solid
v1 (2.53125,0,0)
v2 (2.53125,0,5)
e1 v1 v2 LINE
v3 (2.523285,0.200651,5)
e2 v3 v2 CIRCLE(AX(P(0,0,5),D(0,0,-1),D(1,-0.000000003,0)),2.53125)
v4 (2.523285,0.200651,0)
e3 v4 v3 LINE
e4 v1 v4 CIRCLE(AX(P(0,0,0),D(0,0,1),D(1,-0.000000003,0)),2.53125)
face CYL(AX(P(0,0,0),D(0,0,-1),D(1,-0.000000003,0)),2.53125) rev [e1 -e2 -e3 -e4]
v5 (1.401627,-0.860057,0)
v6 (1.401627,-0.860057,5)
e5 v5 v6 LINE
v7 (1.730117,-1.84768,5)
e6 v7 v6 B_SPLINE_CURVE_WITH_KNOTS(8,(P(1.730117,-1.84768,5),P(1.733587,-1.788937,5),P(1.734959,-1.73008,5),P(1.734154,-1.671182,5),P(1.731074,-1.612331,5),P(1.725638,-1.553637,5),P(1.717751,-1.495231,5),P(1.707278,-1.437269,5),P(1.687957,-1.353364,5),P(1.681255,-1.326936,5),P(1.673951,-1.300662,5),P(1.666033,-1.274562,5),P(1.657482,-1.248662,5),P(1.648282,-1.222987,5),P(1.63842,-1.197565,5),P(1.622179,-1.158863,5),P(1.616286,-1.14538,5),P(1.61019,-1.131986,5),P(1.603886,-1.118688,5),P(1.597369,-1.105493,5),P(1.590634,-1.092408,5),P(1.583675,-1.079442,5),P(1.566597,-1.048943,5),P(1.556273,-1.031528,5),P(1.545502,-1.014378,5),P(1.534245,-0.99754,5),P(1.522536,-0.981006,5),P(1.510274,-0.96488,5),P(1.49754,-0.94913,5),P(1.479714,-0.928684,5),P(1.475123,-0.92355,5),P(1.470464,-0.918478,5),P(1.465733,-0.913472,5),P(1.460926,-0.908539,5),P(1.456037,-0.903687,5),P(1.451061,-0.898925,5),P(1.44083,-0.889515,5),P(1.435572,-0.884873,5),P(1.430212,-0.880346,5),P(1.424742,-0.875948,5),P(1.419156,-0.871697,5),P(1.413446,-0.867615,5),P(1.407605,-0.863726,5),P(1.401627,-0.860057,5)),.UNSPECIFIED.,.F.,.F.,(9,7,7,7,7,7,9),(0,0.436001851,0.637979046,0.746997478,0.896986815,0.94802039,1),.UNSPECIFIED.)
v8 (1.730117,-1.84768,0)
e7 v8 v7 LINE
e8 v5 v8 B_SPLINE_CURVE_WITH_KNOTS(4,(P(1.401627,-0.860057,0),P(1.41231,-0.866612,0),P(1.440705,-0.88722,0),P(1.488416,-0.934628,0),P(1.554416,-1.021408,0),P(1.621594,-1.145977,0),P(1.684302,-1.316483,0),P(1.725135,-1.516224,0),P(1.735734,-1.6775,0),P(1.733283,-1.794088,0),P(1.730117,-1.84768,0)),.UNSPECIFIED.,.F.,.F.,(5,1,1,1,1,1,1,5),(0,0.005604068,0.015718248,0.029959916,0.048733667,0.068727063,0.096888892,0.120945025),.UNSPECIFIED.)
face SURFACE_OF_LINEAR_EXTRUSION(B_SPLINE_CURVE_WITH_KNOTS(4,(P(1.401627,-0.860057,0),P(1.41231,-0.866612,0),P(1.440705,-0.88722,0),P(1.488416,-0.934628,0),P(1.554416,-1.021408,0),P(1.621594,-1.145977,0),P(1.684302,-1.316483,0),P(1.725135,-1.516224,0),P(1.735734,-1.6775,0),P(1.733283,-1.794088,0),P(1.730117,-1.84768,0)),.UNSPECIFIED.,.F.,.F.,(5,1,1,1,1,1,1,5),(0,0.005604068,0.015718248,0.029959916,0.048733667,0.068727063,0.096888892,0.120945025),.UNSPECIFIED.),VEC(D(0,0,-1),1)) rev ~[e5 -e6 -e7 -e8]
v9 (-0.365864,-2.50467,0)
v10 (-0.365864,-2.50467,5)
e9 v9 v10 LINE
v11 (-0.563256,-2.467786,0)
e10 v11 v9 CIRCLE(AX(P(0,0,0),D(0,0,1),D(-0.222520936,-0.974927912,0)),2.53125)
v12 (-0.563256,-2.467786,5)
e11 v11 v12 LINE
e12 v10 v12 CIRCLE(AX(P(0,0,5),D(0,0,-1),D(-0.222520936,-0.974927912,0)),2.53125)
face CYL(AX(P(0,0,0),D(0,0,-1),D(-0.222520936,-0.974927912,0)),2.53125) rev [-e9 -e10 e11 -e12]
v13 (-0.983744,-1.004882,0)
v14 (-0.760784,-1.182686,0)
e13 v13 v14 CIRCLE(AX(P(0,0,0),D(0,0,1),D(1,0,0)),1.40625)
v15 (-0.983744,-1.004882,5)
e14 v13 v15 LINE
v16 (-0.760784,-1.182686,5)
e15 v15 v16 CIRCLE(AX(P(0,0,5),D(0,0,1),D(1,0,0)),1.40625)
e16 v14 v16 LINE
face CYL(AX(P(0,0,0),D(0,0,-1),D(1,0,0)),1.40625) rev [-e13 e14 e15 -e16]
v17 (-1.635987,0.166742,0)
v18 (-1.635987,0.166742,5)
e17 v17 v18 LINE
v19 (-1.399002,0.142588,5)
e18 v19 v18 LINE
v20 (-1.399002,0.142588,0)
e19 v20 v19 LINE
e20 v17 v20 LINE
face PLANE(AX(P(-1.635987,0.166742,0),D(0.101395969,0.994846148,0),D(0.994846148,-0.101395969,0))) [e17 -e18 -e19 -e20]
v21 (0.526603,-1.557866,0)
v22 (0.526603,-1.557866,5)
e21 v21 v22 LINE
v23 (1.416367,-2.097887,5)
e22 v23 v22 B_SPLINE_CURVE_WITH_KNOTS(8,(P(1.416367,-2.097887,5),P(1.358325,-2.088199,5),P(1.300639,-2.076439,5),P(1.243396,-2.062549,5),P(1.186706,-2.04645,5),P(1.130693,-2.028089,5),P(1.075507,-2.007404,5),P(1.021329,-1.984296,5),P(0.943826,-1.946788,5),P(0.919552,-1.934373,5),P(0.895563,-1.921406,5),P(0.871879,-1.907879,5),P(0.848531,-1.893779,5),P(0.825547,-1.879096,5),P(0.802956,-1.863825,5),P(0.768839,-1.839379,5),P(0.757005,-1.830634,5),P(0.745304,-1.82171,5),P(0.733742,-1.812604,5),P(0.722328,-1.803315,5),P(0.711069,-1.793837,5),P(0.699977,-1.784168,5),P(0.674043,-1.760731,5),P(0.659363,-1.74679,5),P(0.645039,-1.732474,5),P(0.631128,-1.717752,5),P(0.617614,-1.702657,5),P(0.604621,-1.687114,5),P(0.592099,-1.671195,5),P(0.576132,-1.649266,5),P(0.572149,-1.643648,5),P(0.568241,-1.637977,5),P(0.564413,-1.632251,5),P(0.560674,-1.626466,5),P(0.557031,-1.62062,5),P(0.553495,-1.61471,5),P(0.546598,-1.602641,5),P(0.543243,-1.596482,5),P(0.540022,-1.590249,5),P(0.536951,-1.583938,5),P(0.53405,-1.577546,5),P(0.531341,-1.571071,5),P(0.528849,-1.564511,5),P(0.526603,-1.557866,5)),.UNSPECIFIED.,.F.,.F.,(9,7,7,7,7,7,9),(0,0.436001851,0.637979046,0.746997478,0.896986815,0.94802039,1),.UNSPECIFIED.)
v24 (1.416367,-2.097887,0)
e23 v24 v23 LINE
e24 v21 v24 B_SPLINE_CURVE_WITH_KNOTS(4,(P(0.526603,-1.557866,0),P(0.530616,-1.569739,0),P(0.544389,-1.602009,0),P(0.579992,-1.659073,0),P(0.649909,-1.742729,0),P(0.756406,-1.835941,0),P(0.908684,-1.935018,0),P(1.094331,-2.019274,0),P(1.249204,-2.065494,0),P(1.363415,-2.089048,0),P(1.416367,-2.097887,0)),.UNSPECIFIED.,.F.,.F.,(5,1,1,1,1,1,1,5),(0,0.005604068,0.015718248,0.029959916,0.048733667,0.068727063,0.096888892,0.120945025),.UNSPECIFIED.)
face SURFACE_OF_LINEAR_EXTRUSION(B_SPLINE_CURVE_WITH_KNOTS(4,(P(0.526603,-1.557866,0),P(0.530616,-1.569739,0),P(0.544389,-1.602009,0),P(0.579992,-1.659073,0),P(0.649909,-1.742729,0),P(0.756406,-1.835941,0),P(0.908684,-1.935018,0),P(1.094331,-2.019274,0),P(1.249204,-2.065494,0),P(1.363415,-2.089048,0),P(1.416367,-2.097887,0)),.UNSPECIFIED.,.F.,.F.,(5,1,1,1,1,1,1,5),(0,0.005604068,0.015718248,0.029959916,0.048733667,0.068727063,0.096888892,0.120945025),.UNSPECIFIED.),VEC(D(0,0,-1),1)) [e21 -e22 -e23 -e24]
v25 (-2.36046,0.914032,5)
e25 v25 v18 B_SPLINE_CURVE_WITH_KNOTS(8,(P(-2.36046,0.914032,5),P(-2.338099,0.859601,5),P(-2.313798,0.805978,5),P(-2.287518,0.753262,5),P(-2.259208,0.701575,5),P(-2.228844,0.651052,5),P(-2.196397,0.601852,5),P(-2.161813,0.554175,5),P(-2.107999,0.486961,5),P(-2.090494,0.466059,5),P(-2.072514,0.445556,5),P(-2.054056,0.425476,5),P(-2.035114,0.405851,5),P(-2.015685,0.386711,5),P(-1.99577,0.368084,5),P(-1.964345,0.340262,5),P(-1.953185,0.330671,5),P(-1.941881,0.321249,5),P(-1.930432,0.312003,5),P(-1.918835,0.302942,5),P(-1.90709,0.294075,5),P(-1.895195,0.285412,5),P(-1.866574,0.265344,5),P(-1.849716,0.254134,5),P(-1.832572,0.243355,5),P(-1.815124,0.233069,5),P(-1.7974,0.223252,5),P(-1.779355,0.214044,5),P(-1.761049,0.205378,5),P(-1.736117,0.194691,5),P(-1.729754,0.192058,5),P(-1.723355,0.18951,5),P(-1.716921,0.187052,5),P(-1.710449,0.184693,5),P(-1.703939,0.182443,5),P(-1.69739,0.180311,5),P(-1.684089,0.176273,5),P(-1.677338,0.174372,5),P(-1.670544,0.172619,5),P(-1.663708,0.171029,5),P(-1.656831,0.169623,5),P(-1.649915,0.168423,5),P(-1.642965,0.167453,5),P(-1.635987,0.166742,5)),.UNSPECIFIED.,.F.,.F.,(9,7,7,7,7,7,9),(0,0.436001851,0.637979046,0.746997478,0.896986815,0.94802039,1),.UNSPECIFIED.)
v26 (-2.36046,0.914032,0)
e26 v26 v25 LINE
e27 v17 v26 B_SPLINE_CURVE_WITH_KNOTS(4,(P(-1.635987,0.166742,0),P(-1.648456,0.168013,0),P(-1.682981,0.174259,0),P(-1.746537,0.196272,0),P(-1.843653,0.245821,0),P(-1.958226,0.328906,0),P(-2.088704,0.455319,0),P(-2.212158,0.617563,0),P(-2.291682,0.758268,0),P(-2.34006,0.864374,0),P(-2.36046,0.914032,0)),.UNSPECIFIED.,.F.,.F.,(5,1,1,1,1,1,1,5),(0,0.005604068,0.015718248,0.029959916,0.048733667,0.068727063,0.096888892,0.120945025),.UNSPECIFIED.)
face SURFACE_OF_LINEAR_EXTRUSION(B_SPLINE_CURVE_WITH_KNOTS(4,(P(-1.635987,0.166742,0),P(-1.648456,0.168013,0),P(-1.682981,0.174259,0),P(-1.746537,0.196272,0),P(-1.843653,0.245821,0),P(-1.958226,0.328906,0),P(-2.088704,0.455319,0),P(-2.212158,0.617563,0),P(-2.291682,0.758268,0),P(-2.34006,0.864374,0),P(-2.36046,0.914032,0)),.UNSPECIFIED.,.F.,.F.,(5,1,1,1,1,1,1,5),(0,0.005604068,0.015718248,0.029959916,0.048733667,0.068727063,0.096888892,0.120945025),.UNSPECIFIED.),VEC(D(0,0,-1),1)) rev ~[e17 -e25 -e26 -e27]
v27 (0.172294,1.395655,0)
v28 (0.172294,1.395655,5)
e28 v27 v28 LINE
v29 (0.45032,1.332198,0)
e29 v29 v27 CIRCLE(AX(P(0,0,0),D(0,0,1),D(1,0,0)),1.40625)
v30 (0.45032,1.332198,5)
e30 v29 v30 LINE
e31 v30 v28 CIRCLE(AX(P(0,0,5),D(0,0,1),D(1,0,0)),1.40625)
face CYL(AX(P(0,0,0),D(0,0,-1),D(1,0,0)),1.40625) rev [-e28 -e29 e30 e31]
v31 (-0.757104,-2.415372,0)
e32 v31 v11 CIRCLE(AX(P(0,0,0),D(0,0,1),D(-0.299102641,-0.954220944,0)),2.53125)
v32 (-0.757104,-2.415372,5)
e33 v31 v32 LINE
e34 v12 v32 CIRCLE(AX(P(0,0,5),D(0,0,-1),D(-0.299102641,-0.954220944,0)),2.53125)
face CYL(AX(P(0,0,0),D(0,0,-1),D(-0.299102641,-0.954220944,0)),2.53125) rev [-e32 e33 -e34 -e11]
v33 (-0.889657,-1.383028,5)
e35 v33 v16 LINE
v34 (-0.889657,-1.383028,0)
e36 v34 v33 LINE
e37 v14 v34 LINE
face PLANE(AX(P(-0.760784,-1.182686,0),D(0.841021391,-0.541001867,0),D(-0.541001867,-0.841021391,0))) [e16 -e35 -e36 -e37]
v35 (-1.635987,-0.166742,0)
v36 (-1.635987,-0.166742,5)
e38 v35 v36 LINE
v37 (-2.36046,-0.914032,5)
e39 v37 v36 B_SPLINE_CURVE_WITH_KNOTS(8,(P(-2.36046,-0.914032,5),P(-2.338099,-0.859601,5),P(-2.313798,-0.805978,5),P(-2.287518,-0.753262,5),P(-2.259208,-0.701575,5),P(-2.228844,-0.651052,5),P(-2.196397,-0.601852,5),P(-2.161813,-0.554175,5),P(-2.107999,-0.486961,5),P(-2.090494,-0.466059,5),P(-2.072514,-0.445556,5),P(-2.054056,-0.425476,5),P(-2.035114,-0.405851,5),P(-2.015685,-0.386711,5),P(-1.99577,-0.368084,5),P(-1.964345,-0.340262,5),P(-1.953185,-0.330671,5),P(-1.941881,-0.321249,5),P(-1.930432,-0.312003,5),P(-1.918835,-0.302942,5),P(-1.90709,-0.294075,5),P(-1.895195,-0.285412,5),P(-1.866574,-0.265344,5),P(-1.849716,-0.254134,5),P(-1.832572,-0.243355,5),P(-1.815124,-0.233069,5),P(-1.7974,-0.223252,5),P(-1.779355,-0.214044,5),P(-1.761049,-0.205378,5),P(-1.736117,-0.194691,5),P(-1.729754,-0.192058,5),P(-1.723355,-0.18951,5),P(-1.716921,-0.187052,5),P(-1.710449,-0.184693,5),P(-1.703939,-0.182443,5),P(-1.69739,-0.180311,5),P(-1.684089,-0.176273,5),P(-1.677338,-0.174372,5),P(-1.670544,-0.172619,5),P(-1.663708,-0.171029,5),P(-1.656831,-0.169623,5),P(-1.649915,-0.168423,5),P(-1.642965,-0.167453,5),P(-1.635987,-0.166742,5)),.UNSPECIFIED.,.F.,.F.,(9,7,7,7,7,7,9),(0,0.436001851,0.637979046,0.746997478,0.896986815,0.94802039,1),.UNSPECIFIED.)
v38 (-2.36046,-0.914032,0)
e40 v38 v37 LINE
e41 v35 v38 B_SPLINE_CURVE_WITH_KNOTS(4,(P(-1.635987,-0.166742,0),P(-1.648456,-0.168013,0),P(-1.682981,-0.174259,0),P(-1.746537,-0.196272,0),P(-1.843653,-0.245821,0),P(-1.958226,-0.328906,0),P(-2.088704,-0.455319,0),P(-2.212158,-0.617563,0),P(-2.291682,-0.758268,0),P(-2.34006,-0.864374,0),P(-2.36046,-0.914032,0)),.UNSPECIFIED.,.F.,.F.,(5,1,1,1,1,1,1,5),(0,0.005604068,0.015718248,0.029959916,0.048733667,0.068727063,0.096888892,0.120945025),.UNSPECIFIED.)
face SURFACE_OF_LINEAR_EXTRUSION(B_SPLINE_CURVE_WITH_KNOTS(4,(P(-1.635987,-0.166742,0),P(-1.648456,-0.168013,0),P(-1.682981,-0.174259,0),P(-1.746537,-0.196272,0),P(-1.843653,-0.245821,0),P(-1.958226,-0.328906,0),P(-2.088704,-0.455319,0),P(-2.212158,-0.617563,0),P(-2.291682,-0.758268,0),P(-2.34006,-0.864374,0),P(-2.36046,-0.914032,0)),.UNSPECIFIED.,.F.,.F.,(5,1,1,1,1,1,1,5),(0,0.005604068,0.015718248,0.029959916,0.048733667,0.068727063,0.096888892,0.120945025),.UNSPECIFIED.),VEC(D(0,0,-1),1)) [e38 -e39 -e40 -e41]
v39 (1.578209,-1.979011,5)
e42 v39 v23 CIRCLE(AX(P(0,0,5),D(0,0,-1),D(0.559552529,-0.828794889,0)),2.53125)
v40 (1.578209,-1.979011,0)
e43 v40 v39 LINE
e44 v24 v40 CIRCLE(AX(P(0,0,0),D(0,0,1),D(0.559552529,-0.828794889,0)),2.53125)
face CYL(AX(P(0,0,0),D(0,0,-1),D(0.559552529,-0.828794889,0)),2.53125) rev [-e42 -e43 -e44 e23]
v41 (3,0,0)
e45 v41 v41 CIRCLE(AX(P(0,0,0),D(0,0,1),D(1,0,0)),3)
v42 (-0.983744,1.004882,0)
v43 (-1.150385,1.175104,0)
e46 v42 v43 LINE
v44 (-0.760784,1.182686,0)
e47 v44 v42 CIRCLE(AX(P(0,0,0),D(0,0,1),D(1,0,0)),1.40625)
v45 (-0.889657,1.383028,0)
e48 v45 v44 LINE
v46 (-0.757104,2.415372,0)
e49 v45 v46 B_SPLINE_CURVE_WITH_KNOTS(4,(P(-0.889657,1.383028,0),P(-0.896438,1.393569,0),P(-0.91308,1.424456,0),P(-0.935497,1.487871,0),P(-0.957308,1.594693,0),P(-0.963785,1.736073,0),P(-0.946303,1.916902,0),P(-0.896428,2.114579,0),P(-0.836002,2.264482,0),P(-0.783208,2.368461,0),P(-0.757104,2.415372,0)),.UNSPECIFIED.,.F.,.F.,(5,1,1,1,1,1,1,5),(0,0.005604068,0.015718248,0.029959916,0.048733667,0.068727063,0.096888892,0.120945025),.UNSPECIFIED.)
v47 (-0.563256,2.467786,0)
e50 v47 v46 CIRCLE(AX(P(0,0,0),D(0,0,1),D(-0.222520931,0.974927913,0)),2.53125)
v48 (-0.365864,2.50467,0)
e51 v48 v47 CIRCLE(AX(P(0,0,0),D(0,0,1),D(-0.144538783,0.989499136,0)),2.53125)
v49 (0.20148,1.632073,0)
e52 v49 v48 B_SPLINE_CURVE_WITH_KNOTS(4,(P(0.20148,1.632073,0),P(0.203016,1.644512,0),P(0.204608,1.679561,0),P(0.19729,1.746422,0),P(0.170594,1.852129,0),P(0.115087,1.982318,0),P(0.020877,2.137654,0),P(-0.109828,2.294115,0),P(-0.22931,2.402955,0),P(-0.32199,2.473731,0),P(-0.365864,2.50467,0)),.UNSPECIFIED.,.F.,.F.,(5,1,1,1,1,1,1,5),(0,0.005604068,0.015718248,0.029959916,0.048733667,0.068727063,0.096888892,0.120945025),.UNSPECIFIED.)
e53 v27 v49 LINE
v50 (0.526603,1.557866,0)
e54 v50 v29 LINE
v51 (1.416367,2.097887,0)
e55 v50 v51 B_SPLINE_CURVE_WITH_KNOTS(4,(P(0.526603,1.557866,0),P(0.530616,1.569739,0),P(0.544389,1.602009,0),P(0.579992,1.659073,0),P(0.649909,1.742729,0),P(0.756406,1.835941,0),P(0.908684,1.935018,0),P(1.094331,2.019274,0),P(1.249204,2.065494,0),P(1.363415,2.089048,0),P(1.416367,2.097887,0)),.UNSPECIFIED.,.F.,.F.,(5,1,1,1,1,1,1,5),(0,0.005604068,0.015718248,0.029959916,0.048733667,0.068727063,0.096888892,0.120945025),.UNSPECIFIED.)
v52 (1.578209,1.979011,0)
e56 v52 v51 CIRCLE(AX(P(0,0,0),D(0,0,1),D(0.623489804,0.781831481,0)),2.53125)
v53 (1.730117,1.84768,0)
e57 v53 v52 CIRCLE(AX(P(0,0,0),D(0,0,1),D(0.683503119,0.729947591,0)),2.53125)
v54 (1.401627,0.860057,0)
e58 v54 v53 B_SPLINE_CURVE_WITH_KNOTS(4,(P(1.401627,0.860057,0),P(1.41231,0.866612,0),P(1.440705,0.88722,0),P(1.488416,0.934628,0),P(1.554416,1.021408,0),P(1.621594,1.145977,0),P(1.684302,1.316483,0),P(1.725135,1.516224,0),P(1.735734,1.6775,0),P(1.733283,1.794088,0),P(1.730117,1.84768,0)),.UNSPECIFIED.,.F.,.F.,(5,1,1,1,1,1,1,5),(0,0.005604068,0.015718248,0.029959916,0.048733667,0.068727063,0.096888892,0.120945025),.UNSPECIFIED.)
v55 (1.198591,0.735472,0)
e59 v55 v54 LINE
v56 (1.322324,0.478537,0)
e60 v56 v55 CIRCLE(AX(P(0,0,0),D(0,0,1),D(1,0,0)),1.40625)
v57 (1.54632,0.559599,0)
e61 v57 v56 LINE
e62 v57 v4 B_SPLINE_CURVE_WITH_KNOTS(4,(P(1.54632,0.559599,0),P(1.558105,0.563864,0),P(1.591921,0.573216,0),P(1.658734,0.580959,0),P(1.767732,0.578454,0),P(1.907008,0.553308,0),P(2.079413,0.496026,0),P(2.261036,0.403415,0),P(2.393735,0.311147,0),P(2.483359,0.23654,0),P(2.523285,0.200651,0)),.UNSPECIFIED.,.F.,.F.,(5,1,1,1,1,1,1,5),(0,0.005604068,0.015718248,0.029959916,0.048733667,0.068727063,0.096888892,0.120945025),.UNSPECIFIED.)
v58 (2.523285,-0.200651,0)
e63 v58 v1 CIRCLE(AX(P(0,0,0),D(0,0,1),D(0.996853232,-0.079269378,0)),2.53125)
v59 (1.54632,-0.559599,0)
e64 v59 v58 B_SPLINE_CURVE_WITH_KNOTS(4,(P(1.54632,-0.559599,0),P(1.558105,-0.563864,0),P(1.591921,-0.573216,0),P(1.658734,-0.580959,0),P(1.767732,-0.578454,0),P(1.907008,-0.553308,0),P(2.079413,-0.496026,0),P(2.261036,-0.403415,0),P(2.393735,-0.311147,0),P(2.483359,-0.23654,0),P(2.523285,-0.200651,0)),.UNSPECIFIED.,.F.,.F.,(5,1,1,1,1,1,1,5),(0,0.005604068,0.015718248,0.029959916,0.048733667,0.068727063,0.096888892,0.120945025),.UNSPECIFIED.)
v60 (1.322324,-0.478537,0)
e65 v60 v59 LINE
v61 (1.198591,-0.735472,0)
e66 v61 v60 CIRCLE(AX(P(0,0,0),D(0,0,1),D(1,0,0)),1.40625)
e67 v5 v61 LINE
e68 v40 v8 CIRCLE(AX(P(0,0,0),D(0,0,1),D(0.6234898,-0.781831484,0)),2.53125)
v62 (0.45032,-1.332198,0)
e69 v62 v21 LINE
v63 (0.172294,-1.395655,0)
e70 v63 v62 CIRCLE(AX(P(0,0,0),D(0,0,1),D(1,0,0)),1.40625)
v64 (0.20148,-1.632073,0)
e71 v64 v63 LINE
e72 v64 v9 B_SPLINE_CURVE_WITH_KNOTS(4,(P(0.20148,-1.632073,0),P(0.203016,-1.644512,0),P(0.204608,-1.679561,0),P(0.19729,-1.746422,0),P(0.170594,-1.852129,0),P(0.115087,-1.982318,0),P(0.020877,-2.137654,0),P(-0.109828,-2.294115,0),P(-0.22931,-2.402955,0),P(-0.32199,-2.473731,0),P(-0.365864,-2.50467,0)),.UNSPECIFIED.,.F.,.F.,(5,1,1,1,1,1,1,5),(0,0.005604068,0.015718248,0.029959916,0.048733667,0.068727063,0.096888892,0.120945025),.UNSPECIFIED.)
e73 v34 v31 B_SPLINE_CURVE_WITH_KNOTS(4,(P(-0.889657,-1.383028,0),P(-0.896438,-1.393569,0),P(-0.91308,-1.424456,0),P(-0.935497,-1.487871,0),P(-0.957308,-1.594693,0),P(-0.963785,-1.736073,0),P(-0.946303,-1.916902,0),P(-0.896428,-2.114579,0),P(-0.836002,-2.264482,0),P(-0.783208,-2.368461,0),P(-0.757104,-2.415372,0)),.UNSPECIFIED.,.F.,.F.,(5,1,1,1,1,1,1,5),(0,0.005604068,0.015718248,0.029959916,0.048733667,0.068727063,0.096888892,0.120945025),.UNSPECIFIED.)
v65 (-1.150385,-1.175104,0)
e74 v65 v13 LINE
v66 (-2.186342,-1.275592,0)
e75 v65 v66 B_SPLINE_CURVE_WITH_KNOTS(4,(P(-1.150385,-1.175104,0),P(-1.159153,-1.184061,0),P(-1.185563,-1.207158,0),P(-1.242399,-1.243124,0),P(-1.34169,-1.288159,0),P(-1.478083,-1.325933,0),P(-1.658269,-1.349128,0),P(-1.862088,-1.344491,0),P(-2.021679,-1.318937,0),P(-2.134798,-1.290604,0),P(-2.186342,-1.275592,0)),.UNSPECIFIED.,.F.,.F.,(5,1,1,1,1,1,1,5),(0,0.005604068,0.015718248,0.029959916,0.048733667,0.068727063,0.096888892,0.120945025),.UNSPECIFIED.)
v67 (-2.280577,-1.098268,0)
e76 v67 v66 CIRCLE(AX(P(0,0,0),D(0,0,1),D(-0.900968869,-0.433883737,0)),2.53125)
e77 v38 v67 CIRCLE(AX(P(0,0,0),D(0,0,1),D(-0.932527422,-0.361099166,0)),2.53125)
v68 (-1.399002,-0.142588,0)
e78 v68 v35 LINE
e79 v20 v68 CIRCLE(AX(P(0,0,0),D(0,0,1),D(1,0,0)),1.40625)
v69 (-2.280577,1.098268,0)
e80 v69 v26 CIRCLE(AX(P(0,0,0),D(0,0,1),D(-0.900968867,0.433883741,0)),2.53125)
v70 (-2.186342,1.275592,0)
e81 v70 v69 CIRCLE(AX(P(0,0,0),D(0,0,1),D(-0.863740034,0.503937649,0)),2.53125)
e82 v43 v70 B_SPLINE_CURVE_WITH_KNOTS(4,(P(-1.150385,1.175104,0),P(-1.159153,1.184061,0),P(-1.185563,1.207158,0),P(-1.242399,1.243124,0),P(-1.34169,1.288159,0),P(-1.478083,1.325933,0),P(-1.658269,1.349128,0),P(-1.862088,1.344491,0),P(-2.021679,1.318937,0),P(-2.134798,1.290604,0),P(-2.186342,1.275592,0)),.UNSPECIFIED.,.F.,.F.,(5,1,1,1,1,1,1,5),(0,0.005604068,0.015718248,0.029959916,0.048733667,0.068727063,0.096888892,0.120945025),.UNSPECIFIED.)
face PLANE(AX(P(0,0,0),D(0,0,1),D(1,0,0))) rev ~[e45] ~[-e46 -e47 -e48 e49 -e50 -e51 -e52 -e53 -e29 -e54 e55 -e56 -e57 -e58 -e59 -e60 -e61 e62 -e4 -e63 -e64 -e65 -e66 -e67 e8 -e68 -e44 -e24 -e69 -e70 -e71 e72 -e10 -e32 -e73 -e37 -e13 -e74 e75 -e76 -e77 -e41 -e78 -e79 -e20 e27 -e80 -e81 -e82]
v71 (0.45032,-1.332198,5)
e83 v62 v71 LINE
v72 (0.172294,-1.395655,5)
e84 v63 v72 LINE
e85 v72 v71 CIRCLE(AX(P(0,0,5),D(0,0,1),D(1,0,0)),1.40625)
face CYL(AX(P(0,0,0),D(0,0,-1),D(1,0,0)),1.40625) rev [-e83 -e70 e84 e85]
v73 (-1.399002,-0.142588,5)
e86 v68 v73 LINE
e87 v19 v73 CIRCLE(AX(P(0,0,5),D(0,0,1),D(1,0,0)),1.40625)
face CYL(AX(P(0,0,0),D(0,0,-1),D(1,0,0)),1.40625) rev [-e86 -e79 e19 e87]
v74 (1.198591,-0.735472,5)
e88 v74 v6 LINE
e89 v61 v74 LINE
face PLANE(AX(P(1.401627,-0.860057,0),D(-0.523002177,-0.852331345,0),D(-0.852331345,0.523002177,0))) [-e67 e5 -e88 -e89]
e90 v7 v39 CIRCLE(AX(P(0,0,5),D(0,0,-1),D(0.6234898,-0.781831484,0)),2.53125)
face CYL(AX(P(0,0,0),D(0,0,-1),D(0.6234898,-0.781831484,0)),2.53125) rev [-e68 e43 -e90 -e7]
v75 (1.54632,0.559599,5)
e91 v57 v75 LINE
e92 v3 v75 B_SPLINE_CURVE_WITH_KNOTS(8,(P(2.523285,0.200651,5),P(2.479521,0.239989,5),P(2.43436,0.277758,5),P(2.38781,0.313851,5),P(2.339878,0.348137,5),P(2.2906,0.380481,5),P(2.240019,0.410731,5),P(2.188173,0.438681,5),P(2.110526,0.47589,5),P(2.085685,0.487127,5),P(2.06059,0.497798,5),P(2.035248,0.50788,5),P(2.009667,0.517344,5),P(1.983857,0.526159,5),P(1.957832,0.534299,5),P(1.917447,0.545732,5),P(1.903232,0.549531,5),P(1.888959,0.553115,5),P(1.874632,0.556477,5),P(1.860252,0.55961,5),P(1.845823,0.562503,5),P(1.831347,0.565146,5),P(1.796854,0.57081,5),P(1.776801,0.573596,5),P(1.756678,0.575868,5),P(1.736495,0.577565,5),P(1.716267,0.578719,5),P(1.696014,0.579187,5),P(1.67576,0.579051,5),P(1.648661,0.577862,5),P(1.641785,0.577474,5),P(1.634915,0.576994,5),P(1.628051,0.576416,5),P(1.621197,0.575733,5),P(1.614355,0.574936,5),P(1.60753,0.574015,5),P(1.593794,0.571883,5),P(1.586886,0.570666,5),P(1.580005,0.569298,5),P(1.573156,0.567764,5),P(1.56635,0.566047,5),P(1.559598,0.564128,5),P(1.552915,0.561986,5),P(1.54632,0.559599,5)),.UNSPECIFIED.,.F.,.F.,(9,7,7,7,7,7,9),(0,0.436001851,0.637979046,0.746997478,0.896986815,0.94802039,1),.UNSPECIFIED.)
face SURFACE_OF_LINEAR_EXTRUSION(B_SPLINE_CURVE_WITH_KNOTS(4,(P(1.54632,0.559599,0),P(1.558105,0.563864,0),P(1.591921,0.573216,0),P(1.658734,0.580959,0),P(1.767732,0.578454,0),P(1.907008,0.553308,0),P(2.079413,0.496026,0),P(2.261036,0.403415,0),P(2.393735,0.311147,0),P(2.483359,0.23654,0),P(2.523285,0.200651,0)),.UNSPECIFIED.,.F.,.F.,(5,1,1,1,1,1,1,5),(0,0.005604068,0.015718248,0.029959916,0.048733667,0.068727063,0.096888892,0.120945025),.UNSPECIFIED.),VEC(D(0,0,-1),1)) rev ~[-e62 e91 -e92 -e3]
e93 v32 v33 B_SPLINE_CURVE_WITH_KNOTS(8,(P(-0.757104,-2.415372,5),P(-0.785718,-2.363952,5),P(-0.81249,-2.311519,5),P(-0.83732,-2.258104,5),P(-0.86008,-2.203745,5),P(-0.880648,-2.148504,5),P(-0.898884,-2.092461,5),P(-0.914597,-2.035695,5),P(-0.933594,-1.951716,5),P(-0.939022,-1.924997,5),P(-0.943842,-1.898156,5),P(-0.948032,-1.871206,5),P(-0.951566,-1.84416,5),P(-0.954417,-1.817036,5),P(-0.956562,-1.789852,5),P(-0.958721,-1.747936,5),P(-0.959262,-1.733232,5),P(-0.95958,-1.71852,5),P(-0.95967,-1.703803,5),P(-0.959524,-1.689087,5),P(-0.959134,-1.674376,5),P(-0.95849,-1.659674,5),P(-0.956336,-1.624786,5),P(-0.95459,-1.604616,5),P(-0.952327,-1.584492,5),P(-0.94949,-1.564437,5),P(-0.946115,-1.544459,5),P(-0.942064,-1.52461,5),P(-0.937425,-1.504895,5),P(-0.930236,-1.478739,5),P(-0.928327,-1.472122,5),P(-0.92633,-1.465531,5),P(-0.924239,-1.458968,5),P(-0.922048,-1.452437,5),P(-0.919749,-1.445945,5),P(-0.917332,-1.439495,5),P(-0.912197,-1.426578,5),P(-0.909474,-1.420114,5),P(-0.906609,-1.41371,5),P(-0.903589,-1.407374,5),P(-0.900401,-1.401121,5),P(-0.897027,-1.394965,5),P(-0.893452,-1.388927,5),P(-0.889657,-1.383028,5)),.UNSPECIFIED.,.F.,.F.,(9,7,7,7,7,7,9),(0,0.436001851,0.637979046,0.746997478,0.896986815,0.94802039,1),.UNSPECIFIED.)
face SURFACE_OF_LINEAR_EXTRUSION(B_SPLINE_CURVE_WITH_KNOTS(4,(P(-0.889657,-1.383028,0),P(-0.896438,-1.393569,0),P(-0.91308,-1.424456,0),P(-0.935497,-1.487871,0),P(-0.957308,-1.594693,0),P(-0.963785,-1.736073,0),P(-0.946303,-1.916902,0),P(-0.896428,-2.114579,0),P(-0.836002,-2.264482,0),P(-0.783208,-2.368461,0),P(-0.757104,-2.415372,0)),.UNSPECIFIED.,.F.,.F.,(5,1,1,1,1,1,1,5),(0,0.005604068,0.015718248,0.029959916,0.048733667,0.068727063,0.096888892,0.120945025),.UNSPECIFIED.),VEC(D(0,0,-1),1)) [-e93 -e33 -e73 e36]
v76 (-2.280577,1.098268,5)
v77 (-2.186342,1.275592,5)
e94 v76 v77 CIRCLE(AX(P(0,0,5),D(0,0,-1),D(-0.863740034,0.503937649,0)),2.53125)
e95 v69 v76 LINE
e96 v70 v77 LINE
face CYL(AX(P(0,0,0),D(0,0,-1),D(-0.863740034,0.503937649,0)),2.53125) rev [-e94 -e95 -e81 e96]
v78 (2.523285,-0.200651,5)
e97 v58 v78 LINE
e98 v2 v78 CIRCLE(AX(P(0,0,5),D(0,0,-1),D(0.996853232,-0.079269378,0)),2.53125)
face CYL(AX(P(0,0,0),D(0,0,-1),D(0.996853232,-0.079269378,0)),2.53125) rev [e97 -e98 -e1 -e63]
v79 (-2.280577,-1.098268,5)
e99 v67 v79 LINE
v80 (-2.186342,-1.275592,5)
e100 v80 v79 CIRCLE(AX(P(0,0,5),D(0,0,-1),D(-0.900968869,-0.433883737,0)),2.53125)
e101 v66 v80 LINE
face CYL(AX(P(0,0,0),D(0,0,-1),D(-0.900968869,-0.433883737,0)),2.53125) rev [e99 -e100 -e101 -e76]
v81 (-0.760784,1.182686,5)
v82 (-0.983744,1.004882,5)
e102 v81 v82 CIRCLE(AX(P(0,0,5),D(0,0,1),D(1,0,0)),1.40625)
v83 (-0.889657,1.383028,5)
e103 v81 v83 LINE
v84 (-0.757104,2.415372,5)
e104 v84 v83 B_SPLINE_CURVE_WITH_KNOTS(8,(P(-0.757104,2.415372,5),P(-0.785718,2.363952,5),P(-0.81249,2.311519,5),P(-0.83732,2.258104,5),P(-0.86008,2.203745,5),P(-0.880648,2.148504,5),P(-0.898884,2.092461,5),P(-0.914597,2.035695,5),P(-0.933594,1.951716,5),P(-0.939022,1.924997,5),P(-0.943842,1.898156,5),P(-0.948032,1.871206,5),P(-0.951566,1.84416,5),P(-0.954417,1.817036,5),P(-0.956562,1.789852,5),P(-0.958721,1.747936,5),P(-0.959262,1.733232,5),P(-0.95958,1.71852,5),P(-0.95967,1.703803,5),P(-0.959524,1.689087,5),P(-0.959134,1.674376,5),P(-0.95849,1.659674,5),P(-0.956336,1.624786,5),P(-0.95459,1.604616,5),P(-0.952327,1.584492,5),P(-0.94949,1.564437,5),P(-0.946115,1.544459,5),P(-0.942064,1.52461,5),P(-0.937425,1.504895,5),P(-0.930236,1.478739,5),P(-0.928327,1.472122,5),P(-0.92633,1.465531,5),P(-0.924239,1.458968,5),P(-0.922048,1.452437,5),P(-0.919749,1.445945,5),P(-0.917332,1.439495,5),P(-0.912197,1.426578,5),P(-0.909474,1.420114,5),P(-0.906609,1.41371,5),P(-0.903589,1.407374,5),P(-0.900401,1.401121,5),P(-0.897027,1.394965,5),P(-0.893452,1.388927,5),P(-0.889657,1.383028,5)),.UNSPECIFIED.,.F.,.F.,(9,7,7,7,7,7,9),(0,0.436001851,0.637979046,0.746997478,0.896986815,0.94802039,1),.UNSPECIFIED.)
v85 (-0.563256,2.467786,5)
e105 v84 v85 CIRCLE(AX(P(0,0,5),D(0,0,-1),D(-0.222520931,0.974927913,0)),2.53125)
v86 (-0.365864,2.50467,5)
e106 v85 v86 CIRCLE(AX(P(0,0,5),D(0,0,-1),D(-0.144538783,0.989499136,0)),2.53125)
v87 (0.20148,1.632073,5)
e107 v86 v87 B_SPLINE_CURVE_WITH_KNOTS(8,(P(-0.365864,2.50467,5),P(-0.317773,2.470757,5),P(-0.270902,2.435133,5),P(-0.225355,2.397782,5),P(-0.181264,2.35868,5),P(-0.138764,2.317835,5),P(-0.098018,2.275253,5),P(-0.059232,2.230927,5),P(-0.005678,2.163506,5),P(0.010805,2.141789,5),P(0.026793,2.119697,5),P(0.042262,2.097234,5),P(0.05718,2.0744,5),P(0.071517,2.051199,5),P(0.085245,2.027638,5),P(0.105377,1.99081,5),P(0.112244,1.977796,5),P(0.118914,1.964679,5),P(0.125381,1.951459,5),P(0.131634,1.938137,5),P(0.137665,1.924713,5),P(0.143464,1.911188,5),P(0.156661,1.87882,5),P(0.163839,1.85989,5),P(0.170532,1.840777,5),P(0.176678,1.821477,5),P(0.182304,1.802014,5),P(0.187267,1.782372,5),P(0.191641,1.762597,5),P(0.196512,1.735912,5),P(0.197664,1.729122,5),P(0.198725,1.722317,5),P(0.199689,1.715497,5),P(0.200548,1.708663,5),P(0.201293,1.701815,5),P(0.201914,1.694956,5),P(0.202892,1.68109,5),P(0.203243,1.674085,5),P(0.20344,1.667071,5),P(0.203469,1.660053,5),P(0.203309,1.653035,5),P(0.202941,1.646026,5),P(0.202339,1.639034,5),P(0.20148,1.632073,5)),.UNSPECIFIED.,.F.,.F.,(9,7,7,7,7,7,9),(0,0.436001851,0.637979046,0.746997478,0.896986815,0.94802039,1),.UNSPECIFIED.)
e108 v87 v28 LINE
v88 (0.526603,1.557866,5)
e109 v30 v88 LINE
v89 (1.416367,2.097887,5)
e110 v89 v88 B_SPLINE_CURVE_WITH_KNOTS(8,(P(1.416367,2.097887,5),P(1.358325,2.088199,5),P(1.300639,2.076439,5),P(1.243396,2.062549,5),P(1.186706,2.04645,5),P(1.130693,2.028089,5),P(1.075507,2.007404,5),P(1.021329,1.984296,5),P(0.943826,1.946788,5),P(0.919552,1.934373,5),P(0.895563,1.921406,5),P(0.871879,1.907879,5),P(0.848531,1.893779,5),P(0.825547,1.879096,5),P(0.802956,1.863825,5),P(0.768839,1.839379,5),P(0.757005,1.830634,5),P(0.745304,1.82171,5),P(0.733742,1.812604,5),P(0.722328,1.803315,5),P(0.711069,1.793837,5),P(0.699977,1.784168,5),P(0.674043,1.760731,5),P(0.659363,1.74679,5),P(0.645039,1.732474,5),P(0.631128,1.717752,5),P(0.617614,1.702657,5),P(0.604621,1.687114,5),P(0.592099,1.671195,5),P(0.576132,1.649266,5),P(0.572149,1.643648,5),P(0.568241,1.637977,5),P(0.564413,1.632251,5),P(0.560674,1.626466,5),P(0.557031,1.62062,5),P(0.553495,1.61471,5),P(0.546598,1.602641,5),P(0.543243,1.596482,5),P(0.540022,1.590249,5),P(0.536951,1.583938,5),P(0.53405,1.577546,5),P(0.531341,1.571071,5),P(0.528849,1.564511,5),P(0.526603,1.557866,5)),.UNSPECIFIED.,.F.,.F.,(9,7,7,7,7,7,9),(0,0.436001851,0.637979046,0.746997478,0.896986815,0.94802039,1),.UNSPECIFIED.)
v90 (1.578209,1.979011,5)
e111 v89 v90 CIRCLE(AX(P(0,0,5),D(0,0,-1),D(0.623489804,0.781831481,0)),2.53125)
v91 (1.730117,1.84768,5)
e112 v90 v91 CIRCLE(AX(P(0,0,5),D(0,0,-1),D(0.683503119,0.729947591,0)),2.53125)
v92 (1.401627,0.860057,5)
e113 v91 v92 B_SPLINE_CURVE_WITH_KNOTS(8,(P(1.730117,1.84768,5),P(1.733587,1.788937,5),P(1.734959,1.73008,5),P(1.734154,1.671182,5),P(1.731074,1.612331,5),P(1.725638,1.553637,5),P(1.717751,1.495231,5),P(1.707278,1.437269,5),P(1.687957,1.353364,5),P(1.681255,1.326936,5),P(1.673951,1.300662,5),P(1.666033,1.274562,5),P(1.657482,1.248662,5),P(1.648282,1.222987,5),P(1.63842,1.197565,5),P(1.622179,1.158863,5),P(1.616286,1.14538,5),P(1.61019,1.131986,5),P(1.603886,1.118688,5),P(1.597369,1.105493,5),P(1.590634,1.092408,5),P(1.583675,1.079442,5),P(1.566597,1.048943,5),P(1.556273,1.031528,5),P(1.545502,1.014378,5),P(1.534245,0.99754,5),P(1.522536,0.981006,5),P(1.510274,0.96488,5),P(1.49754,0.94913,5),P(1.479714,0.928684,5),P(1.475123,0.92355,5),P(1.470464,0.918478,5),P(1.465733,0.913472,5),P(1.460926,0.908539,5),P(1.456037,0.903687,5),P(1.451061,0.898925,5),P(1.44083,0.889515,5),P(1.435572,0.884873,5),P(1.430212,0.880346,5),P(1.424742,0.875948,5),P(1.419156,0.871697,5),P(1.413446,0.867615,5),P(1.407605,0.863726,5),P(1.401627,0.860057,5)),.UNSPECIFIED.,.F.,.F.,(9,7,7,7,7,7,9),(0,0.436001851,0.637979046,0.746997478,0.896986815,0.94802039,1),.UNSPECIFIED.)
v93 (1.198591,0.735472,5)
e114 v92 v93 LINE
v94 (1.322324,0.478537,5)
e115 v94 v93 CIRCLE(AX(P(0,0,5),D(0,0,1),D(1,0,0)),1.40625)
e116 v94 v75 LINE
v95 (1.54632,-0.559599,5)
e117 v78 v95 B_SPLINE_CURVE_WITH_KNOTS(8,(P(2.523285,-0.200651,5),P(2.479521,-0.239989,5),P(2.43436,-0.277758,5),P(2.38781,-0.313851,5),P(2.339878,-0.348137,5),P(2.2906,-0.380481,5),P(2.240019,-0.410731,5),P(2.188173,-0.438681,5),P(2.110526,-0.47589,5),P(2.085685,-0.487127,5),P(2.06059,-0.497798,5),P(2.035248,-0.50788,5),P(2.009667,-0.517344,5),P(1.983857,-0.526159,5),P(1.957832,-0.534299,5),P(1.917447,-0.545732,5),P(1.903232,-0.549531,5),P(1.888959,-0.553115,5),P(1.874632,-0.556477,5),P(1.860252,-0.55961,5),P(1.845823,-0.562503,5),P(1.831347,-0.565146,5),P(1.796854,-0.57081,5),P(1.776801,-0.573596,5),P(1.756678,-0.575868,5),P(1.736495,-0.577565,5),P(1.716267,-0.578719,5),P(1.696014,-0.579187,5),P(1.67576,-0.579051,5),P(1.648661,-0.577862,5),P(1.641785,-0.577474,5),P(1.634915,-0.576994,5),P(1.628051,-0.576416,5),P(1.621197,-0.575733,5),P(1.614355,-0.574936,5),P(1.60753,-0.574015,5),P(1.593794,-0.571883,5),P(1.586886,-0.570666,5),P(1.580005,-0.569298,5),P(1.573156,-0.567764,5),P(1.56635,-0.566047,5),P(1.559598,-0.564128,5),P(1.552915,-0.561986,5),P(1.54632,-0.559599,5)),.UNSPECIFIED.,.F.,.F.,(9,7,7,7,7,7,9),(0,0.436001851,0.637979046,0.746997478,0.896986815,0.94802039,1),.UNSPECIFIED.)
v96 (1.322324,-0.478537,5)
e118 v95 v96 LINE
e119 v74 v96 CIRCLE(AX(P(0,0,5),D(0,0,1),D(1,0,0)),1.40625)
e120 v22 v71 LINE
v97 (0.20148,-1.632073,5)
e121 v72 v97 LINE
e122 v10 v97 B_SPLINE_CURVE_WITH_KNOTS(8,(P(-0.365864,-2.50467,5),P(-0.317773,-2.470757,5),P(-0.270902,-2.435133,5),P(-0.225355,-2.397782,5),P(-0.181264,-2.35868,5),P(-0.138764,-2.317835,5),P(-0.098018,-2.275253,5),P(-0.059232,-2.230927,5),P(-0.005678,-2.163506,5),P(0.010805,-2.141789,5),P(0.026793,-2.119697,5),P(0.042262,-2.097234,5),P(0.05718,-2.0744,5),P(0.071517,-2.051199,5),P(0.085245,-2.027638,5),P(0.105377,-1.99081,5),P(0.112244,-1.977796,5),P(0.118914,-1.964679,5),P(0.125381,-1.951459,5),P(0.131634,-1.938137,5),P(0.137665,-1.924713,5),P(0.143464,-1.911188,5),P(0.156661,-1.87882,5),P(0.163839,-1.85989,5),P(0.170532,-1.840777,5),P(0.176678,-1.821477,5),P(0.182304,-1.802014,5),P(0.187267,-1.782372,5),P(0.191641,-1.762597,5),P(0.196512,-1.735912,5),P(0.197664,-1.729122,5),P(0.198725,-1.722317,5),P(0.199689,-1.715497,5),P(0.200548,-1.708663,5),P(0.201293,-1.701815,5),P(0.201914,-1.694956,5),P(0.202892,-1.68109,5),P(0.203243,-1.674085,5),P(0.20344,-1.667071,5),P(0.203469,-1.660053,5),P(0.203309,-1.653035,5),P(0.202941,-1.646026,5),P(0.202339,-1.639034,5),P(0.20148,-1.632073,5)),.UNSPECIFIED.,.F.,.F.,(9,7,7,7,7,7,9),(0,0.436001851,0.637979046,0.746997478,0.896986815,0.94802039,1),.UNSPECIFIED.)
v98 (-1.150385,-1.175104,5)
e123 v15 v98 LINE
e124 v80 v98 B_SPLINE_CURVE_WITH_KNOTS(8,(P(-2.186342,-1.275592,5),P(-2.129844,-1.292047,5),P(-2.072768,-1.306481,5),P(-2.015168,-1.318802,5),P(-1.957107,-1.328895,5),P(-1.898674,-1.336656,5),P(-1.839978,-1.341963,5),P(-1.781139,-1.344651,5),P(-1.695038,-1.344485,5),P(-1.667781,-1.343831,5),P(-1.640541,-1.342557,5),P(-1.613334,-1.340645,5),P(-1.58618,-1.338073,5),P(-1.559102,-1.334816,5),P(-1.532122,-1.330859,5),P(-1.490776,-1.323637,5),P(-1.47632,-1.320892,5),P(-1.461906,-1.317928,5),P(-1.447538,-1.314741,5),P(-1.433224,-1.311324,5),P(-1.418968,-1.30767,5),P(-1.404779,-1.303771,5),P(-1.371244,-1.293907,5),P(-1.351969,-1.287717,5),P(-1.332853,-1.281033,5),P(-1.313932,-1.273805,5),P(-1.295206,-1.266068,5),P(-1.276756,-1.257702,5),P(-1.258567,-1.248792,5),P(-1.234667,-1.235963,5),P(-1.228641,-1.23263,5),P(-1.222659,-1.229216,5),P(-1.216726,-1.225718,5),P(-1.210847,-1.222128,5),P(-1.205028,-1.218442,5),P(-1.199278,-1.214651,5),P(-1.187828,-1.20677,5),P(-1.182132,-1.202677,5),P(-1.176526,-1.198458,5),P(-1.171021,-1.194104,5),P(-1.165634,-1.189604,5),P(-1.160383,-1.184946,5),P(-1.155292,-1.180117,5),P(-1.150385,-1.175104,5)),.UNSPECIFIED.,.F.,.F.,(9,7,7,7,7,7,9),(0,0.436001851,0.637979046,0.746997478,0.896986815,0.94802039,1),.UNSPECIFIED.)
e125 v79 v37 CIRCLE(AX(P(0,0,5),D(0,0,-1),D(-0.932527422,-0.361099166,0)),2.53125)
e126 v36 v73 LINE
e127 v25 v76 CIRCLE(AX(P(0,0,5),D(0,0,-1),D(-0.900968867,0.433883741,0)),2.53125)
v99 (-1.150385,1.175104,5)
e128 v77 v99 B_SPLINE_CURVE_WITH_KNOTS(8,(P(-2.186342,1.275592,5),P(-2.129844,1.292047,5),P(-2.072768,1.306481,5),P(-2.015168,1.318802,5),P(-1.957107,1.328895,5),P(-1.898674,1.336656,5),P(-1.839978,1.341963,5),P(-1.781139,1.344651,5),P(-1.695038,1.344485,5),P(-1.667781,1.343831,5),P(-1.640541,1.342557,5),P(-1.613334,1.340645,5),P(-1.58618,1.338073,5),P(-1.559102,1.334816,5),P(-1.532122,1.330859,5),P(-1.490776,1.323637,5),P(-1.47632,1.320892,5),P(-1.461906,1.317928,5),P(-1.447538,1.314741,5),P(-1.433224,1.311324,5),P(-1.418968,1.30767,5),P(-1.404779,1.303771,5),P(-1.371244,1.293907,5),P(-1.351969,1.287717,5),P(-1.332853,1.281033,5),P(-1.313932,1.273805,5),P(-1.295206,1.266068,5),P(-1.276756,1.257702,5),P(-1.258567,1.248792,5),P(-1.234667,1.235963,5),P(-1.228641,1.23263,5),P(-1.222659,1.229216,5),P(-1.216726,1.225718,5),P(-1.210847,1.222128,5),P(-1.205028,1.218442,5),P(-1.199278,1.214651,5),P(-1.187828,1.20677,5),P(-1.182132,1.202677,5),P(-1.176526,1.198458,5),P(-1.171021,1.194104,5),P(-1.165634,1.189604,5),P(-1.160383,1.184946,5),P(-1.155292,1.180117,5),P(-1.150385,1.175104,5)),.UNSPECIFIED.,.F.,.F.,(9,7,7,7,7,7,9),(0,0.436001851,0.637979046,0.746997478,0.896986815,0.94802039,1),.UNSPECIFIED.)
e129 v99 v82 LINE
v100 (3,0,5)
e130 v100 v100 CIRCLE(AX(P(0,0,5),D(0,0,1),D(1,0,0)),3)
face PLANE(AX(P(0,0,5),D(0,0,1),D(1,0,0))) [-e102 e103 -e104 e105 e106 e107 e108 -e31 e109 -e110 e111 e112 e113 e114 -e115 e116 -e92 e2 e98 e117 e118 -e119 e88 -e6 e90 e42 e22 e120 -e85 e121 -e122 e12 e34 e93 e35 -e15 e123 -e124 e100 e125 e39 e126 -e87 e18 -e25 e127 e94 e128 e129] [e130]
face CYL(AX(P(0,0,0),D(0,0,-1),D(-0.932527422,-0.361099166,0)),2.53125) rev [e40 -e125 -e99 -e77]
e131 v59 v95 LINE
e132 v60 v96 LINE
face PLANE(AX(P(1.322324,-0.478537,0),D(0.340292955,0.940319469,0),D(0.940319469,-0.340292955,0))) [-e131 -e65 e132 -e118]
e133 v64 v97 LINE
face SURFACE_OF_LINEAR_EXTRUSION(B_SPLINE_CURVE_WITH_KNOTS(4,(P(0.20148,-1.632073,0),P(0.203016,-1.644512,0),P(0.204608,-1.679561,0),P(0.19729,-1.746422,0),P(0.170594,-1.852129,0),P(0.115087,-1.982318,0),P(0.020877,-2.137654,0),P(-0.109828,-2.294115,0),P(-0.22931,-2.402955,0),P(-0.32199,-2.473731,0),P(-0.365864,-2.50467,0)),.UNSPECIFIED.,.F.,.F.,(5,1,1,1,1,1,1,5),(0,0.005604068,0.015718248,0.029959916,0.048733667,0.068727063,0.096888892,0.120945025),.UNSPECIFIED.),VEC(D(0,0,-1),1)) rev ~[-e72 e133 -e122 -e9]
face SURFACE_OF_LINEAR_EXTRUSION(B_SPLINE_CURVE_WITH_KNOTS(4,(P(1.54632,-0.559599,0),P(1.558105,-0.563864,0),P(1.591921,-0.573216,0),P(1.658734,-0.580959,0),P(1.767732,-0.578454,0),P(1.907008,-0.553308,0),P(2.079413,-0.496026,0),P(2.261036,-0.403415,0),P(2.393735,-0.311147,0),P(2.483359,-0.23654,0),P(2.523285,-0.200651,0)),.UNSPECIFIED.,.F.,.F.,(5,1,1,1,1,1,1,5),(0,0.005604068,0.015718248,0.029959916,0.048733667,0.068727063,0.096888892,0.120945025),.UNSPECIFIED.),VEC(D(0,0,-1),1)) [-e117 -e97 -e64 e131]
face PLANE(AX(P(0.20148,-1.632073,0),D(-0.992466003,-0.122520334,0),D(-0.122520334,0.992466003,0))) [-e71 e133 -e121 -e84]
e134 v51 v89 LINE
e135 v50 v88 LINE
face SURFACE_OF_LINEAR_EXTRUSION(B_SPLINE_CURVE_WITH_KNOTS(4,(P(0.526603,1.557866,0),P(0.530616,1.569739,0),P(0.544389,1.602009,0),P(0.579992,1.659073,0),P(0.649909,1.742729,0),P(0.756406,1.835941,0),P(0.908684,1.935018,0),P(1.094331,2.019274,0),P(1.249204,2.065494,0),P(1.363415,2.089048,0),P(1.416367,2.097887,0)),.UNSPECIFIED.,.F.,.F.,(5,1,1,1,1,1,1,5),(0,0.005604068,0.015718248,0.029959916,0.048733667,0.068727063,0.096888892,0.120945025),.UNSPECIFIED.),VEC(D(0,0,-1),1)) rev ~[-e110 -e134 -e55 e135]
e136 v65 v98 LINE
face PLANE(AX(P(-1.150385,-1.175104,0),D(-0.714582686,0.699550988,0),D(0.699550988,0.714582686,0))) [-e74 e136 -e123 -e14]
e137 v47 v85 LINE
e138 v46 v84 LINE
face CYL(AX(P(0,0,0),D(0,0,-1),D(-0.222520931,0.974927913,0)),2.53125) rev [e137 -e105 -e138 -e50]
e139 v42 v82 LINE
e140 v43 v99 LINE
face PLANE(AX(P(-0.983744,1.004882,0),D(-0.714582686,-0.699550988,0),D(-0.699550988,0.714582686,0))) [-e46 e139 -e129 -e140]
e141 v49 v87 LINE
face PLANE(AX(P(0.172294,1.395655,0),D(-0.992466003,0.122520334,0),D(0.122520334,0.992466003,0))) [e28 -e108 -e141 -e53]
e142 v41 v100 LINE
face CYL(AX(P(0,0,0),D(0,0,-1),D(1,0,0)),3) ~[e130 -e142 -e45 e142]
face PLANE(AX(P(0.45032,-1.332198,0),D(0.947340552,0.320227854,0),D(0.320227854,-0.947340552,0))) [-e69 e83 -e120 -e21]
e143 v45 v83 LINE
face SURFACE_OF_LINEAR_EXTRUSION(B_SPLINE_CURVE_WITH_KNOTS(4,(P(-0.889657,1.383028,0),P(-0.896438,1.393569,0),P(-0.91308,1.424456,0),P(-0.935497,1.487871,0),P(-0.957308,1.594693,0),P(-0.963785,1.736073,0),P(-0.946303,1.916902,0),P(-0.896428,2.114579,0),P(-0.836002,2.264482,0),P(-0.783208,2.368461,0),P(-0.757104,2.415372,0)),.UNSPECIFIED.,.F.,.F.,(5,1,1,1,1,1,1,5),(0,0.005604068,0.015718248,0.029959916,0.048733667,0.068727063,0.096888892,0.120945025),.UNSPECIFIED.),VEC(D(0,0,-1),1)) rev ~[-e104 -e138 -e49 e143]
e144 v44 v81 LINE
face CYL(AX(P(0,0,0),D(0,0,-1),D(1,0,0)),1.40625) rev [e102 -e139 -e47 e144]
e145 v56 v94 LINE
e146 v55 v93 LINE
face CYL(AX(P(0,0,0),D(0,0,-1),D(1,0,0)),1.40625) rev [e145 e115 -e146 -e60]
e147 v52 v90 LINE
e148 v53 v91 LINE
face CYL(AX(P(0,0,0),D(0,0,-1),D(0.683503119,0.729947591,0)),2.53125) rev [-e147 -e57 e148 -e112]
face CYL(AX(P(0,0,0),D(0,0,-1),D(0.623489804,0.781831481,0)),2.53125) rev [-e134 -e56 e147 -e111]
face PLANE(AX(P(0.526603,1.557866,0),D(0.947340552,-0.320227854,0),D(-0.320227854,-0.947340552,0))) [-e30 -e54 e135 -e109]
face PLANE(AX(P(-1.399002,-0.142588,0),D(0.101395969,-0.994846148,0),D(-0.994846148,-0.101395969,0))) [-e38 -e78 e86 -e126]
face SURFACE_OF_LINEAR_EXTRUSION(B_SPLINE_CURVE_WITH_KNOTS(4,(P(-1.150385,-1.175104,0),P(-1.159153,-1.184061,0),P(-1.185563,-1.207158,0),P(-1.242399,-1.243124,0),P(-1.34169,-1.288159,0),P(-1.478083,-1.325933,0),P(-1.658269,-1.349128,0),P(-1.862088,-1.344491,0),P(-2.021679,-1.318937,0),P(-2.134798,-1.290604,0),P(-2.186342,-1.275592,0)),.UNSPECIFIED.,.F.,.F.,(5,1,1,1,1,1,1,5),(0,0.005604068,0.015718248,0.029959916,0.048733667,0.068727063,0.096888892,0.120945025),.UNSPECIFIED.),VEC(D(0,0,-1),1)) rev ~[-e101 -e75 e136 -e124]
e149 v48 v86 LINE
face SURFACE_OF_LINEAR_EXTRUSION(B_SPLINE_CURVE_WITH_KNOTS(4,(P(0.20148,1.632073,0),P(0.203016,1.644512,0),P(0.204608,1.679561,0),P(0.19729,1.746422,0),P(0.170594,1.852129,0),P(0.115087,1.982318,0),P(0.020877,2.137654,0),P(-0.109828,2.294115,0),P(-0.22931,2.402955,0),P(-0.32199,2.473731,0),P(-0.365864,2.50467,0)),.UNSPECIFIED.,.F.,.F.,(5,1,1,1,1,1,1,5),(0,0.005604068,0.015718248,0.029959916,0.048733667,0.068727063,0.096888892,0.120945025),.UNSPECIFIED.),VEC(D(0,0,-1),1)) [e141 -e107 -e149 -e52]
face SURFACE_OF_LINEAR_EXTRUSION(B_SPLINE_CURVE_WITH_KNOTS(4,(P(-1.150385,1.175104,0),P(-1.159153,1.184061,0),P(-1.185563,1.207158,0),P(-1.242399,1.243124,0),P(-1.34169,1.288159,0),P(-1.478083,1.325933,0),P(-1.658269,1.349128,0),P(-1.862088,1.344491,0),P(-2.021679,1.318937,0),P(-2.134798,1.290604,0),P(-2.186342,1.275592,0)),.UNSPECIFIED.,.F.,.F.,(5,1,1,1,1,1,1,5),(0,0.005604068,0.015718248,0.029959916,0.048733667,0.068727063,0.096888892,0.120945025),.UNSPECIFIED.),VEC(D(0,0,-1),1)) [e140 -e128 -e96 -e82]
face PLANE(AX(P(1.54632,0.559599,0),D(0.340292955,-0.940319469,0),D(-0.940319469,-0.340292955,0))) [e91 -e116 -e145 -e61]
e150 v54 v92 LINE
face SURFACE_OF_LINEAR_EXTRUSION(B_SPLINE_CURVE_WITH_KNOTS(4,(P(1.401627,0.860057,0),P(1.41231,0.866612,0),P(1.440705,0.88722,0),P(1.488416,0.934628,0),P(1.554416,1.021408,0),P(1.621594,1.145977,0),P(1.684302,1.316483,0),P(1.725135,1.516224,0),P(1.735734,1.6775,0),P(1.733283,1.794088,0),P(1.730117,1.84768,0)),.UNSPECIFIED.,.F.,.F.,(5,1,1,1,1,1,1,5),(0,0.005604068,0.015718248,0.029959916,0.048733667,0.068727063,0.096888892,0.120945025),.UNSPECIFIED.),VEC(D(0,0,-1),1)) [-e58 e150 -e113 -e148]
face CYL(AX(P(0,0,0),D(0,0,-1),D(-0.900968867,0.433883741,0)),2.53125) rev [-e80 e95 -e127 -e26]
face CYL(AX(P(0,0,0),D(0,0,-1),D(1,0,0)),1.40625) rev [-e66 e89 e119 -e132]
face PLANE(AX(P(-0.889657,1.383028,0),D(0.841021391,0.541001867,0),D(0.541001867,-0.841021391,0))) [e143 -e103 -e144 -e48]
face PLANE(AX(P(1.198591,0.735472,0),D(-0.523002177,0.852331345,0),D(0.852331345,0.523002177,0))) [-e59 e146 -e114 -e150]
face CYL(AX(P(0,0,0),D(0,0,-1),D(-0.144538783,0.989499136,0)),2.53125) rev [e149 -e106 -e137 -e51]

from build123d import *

# Parameters (mm, degrees)
SKETCH_1_R               = 3
SKETCH_1_R_2             = 1.40625
EXTRUDE_1_DEPTH          = 5
CUT_EXTRUDE_2_DEPTH      = 7.557438524
PATTERN_CIRCULAR_1_COUNT = 7


with BuildPart() as part:
    # 草图1 → 凸台-拉伸1 (new body)
    with BuildSketch(Plane.XY):
        Circle(SKETCH_1_R)
        Circle(SKETCH_1_R_2, mode=Mode.SUBTRACT)
    extrude(amount=EXTRUDE_1_DEPTH)

    # 草图1<3> → 切除-拉伸2 (cut, through all)
    with BuildSketch(Plane.XY):
        with BuildLine():
            Line((1.546319716, 0.559598866), (1.322324253, 0.478536971))
            ThreePointArc((1.322324253, 0.478536971), (1.385109661, 0.242920339), (1.40625, 0))
            ThreePointArc((1.40625, 0), (1.385109661, -0.242920339), (1.322324253, -0.478536971))
            Line((1.322324253, -0.478536971), (1.546319716, -0.559598866))
            add(Edge.make_bspline(
                [(1.546319716, -0.559598866), (1.558105463, -0.563864019), (1.591921474, -0.573215837), (1.658734166, -0.580959295), (1.767731952, -0.57845396), (1.907008009, -0.553308364), (2.079413065, -0.496026363), (2.261035814, -0.40341458), (2.393734523, -0.311147352), (2.48335867, -0.236539754), (2.523284743, -0.200650618)],
                knots=[0, 0, 0, 0, 0, 0.005604068, 0.015718248, 0.029959916, 0.048733667, 0.068727063, 0.096888892, 0.120945025, 0.120945025, 0.120945025, 0.120945025, 0.120945025], degree=4))
            ThreePointArc((2.523284743, -0.200650618), (2.529257902, -0.100404327), (2.53125, 0))
            ThreePointArc((2.53125, 0), (2.529257902, 0.100404327), (2.523284743, 0.200650618))
            add(Edge.make_bspline(
                [(1.546319716, 0.559598866), (1.558105463, 0.563864019), (1.591921474, 0.573215837), (1.658734166, 0.580959295), (1.767731952, 0.57845396), (1.907008009, 0.553308364), (2.079413065, 0.496026363), (2.261035814, 0.40341458), (2.393734523, 0.311147352), (2.48335867, 0.236539754), (2.523284743, 0.200650618)],
                knots=[0, 0, 0, 0, 0, 0.005604068, 0.015718248, 0.029959916, 0.048733667, 0.068727063, 0.096888892, 0.120945025, 0.120945025, 0.120945025, 0.120945025, 0.120945025], degree=4))
        make_face()
    cut_extrude_2 = extrude(amount=CUT_EXTRUDE_2_DEPTH, mode=Mode.SUBTRACT)

    # 阵列(圆周)1: 切除-拉伸2 ×7 about axis
    pattern_circular_1_axis = Axis((0, 0, 5), (0, 0, 1))
    for i in range(1, PATTERN_CIRCULAR_1_COUNT):
        add(cut_extrude_2.rotate(pattern_circular_1_axis, i * 360 / PATTERN_CIRCULAR_1_COUNT), mode=Mode.SUBTRACT)


solid = part.part
